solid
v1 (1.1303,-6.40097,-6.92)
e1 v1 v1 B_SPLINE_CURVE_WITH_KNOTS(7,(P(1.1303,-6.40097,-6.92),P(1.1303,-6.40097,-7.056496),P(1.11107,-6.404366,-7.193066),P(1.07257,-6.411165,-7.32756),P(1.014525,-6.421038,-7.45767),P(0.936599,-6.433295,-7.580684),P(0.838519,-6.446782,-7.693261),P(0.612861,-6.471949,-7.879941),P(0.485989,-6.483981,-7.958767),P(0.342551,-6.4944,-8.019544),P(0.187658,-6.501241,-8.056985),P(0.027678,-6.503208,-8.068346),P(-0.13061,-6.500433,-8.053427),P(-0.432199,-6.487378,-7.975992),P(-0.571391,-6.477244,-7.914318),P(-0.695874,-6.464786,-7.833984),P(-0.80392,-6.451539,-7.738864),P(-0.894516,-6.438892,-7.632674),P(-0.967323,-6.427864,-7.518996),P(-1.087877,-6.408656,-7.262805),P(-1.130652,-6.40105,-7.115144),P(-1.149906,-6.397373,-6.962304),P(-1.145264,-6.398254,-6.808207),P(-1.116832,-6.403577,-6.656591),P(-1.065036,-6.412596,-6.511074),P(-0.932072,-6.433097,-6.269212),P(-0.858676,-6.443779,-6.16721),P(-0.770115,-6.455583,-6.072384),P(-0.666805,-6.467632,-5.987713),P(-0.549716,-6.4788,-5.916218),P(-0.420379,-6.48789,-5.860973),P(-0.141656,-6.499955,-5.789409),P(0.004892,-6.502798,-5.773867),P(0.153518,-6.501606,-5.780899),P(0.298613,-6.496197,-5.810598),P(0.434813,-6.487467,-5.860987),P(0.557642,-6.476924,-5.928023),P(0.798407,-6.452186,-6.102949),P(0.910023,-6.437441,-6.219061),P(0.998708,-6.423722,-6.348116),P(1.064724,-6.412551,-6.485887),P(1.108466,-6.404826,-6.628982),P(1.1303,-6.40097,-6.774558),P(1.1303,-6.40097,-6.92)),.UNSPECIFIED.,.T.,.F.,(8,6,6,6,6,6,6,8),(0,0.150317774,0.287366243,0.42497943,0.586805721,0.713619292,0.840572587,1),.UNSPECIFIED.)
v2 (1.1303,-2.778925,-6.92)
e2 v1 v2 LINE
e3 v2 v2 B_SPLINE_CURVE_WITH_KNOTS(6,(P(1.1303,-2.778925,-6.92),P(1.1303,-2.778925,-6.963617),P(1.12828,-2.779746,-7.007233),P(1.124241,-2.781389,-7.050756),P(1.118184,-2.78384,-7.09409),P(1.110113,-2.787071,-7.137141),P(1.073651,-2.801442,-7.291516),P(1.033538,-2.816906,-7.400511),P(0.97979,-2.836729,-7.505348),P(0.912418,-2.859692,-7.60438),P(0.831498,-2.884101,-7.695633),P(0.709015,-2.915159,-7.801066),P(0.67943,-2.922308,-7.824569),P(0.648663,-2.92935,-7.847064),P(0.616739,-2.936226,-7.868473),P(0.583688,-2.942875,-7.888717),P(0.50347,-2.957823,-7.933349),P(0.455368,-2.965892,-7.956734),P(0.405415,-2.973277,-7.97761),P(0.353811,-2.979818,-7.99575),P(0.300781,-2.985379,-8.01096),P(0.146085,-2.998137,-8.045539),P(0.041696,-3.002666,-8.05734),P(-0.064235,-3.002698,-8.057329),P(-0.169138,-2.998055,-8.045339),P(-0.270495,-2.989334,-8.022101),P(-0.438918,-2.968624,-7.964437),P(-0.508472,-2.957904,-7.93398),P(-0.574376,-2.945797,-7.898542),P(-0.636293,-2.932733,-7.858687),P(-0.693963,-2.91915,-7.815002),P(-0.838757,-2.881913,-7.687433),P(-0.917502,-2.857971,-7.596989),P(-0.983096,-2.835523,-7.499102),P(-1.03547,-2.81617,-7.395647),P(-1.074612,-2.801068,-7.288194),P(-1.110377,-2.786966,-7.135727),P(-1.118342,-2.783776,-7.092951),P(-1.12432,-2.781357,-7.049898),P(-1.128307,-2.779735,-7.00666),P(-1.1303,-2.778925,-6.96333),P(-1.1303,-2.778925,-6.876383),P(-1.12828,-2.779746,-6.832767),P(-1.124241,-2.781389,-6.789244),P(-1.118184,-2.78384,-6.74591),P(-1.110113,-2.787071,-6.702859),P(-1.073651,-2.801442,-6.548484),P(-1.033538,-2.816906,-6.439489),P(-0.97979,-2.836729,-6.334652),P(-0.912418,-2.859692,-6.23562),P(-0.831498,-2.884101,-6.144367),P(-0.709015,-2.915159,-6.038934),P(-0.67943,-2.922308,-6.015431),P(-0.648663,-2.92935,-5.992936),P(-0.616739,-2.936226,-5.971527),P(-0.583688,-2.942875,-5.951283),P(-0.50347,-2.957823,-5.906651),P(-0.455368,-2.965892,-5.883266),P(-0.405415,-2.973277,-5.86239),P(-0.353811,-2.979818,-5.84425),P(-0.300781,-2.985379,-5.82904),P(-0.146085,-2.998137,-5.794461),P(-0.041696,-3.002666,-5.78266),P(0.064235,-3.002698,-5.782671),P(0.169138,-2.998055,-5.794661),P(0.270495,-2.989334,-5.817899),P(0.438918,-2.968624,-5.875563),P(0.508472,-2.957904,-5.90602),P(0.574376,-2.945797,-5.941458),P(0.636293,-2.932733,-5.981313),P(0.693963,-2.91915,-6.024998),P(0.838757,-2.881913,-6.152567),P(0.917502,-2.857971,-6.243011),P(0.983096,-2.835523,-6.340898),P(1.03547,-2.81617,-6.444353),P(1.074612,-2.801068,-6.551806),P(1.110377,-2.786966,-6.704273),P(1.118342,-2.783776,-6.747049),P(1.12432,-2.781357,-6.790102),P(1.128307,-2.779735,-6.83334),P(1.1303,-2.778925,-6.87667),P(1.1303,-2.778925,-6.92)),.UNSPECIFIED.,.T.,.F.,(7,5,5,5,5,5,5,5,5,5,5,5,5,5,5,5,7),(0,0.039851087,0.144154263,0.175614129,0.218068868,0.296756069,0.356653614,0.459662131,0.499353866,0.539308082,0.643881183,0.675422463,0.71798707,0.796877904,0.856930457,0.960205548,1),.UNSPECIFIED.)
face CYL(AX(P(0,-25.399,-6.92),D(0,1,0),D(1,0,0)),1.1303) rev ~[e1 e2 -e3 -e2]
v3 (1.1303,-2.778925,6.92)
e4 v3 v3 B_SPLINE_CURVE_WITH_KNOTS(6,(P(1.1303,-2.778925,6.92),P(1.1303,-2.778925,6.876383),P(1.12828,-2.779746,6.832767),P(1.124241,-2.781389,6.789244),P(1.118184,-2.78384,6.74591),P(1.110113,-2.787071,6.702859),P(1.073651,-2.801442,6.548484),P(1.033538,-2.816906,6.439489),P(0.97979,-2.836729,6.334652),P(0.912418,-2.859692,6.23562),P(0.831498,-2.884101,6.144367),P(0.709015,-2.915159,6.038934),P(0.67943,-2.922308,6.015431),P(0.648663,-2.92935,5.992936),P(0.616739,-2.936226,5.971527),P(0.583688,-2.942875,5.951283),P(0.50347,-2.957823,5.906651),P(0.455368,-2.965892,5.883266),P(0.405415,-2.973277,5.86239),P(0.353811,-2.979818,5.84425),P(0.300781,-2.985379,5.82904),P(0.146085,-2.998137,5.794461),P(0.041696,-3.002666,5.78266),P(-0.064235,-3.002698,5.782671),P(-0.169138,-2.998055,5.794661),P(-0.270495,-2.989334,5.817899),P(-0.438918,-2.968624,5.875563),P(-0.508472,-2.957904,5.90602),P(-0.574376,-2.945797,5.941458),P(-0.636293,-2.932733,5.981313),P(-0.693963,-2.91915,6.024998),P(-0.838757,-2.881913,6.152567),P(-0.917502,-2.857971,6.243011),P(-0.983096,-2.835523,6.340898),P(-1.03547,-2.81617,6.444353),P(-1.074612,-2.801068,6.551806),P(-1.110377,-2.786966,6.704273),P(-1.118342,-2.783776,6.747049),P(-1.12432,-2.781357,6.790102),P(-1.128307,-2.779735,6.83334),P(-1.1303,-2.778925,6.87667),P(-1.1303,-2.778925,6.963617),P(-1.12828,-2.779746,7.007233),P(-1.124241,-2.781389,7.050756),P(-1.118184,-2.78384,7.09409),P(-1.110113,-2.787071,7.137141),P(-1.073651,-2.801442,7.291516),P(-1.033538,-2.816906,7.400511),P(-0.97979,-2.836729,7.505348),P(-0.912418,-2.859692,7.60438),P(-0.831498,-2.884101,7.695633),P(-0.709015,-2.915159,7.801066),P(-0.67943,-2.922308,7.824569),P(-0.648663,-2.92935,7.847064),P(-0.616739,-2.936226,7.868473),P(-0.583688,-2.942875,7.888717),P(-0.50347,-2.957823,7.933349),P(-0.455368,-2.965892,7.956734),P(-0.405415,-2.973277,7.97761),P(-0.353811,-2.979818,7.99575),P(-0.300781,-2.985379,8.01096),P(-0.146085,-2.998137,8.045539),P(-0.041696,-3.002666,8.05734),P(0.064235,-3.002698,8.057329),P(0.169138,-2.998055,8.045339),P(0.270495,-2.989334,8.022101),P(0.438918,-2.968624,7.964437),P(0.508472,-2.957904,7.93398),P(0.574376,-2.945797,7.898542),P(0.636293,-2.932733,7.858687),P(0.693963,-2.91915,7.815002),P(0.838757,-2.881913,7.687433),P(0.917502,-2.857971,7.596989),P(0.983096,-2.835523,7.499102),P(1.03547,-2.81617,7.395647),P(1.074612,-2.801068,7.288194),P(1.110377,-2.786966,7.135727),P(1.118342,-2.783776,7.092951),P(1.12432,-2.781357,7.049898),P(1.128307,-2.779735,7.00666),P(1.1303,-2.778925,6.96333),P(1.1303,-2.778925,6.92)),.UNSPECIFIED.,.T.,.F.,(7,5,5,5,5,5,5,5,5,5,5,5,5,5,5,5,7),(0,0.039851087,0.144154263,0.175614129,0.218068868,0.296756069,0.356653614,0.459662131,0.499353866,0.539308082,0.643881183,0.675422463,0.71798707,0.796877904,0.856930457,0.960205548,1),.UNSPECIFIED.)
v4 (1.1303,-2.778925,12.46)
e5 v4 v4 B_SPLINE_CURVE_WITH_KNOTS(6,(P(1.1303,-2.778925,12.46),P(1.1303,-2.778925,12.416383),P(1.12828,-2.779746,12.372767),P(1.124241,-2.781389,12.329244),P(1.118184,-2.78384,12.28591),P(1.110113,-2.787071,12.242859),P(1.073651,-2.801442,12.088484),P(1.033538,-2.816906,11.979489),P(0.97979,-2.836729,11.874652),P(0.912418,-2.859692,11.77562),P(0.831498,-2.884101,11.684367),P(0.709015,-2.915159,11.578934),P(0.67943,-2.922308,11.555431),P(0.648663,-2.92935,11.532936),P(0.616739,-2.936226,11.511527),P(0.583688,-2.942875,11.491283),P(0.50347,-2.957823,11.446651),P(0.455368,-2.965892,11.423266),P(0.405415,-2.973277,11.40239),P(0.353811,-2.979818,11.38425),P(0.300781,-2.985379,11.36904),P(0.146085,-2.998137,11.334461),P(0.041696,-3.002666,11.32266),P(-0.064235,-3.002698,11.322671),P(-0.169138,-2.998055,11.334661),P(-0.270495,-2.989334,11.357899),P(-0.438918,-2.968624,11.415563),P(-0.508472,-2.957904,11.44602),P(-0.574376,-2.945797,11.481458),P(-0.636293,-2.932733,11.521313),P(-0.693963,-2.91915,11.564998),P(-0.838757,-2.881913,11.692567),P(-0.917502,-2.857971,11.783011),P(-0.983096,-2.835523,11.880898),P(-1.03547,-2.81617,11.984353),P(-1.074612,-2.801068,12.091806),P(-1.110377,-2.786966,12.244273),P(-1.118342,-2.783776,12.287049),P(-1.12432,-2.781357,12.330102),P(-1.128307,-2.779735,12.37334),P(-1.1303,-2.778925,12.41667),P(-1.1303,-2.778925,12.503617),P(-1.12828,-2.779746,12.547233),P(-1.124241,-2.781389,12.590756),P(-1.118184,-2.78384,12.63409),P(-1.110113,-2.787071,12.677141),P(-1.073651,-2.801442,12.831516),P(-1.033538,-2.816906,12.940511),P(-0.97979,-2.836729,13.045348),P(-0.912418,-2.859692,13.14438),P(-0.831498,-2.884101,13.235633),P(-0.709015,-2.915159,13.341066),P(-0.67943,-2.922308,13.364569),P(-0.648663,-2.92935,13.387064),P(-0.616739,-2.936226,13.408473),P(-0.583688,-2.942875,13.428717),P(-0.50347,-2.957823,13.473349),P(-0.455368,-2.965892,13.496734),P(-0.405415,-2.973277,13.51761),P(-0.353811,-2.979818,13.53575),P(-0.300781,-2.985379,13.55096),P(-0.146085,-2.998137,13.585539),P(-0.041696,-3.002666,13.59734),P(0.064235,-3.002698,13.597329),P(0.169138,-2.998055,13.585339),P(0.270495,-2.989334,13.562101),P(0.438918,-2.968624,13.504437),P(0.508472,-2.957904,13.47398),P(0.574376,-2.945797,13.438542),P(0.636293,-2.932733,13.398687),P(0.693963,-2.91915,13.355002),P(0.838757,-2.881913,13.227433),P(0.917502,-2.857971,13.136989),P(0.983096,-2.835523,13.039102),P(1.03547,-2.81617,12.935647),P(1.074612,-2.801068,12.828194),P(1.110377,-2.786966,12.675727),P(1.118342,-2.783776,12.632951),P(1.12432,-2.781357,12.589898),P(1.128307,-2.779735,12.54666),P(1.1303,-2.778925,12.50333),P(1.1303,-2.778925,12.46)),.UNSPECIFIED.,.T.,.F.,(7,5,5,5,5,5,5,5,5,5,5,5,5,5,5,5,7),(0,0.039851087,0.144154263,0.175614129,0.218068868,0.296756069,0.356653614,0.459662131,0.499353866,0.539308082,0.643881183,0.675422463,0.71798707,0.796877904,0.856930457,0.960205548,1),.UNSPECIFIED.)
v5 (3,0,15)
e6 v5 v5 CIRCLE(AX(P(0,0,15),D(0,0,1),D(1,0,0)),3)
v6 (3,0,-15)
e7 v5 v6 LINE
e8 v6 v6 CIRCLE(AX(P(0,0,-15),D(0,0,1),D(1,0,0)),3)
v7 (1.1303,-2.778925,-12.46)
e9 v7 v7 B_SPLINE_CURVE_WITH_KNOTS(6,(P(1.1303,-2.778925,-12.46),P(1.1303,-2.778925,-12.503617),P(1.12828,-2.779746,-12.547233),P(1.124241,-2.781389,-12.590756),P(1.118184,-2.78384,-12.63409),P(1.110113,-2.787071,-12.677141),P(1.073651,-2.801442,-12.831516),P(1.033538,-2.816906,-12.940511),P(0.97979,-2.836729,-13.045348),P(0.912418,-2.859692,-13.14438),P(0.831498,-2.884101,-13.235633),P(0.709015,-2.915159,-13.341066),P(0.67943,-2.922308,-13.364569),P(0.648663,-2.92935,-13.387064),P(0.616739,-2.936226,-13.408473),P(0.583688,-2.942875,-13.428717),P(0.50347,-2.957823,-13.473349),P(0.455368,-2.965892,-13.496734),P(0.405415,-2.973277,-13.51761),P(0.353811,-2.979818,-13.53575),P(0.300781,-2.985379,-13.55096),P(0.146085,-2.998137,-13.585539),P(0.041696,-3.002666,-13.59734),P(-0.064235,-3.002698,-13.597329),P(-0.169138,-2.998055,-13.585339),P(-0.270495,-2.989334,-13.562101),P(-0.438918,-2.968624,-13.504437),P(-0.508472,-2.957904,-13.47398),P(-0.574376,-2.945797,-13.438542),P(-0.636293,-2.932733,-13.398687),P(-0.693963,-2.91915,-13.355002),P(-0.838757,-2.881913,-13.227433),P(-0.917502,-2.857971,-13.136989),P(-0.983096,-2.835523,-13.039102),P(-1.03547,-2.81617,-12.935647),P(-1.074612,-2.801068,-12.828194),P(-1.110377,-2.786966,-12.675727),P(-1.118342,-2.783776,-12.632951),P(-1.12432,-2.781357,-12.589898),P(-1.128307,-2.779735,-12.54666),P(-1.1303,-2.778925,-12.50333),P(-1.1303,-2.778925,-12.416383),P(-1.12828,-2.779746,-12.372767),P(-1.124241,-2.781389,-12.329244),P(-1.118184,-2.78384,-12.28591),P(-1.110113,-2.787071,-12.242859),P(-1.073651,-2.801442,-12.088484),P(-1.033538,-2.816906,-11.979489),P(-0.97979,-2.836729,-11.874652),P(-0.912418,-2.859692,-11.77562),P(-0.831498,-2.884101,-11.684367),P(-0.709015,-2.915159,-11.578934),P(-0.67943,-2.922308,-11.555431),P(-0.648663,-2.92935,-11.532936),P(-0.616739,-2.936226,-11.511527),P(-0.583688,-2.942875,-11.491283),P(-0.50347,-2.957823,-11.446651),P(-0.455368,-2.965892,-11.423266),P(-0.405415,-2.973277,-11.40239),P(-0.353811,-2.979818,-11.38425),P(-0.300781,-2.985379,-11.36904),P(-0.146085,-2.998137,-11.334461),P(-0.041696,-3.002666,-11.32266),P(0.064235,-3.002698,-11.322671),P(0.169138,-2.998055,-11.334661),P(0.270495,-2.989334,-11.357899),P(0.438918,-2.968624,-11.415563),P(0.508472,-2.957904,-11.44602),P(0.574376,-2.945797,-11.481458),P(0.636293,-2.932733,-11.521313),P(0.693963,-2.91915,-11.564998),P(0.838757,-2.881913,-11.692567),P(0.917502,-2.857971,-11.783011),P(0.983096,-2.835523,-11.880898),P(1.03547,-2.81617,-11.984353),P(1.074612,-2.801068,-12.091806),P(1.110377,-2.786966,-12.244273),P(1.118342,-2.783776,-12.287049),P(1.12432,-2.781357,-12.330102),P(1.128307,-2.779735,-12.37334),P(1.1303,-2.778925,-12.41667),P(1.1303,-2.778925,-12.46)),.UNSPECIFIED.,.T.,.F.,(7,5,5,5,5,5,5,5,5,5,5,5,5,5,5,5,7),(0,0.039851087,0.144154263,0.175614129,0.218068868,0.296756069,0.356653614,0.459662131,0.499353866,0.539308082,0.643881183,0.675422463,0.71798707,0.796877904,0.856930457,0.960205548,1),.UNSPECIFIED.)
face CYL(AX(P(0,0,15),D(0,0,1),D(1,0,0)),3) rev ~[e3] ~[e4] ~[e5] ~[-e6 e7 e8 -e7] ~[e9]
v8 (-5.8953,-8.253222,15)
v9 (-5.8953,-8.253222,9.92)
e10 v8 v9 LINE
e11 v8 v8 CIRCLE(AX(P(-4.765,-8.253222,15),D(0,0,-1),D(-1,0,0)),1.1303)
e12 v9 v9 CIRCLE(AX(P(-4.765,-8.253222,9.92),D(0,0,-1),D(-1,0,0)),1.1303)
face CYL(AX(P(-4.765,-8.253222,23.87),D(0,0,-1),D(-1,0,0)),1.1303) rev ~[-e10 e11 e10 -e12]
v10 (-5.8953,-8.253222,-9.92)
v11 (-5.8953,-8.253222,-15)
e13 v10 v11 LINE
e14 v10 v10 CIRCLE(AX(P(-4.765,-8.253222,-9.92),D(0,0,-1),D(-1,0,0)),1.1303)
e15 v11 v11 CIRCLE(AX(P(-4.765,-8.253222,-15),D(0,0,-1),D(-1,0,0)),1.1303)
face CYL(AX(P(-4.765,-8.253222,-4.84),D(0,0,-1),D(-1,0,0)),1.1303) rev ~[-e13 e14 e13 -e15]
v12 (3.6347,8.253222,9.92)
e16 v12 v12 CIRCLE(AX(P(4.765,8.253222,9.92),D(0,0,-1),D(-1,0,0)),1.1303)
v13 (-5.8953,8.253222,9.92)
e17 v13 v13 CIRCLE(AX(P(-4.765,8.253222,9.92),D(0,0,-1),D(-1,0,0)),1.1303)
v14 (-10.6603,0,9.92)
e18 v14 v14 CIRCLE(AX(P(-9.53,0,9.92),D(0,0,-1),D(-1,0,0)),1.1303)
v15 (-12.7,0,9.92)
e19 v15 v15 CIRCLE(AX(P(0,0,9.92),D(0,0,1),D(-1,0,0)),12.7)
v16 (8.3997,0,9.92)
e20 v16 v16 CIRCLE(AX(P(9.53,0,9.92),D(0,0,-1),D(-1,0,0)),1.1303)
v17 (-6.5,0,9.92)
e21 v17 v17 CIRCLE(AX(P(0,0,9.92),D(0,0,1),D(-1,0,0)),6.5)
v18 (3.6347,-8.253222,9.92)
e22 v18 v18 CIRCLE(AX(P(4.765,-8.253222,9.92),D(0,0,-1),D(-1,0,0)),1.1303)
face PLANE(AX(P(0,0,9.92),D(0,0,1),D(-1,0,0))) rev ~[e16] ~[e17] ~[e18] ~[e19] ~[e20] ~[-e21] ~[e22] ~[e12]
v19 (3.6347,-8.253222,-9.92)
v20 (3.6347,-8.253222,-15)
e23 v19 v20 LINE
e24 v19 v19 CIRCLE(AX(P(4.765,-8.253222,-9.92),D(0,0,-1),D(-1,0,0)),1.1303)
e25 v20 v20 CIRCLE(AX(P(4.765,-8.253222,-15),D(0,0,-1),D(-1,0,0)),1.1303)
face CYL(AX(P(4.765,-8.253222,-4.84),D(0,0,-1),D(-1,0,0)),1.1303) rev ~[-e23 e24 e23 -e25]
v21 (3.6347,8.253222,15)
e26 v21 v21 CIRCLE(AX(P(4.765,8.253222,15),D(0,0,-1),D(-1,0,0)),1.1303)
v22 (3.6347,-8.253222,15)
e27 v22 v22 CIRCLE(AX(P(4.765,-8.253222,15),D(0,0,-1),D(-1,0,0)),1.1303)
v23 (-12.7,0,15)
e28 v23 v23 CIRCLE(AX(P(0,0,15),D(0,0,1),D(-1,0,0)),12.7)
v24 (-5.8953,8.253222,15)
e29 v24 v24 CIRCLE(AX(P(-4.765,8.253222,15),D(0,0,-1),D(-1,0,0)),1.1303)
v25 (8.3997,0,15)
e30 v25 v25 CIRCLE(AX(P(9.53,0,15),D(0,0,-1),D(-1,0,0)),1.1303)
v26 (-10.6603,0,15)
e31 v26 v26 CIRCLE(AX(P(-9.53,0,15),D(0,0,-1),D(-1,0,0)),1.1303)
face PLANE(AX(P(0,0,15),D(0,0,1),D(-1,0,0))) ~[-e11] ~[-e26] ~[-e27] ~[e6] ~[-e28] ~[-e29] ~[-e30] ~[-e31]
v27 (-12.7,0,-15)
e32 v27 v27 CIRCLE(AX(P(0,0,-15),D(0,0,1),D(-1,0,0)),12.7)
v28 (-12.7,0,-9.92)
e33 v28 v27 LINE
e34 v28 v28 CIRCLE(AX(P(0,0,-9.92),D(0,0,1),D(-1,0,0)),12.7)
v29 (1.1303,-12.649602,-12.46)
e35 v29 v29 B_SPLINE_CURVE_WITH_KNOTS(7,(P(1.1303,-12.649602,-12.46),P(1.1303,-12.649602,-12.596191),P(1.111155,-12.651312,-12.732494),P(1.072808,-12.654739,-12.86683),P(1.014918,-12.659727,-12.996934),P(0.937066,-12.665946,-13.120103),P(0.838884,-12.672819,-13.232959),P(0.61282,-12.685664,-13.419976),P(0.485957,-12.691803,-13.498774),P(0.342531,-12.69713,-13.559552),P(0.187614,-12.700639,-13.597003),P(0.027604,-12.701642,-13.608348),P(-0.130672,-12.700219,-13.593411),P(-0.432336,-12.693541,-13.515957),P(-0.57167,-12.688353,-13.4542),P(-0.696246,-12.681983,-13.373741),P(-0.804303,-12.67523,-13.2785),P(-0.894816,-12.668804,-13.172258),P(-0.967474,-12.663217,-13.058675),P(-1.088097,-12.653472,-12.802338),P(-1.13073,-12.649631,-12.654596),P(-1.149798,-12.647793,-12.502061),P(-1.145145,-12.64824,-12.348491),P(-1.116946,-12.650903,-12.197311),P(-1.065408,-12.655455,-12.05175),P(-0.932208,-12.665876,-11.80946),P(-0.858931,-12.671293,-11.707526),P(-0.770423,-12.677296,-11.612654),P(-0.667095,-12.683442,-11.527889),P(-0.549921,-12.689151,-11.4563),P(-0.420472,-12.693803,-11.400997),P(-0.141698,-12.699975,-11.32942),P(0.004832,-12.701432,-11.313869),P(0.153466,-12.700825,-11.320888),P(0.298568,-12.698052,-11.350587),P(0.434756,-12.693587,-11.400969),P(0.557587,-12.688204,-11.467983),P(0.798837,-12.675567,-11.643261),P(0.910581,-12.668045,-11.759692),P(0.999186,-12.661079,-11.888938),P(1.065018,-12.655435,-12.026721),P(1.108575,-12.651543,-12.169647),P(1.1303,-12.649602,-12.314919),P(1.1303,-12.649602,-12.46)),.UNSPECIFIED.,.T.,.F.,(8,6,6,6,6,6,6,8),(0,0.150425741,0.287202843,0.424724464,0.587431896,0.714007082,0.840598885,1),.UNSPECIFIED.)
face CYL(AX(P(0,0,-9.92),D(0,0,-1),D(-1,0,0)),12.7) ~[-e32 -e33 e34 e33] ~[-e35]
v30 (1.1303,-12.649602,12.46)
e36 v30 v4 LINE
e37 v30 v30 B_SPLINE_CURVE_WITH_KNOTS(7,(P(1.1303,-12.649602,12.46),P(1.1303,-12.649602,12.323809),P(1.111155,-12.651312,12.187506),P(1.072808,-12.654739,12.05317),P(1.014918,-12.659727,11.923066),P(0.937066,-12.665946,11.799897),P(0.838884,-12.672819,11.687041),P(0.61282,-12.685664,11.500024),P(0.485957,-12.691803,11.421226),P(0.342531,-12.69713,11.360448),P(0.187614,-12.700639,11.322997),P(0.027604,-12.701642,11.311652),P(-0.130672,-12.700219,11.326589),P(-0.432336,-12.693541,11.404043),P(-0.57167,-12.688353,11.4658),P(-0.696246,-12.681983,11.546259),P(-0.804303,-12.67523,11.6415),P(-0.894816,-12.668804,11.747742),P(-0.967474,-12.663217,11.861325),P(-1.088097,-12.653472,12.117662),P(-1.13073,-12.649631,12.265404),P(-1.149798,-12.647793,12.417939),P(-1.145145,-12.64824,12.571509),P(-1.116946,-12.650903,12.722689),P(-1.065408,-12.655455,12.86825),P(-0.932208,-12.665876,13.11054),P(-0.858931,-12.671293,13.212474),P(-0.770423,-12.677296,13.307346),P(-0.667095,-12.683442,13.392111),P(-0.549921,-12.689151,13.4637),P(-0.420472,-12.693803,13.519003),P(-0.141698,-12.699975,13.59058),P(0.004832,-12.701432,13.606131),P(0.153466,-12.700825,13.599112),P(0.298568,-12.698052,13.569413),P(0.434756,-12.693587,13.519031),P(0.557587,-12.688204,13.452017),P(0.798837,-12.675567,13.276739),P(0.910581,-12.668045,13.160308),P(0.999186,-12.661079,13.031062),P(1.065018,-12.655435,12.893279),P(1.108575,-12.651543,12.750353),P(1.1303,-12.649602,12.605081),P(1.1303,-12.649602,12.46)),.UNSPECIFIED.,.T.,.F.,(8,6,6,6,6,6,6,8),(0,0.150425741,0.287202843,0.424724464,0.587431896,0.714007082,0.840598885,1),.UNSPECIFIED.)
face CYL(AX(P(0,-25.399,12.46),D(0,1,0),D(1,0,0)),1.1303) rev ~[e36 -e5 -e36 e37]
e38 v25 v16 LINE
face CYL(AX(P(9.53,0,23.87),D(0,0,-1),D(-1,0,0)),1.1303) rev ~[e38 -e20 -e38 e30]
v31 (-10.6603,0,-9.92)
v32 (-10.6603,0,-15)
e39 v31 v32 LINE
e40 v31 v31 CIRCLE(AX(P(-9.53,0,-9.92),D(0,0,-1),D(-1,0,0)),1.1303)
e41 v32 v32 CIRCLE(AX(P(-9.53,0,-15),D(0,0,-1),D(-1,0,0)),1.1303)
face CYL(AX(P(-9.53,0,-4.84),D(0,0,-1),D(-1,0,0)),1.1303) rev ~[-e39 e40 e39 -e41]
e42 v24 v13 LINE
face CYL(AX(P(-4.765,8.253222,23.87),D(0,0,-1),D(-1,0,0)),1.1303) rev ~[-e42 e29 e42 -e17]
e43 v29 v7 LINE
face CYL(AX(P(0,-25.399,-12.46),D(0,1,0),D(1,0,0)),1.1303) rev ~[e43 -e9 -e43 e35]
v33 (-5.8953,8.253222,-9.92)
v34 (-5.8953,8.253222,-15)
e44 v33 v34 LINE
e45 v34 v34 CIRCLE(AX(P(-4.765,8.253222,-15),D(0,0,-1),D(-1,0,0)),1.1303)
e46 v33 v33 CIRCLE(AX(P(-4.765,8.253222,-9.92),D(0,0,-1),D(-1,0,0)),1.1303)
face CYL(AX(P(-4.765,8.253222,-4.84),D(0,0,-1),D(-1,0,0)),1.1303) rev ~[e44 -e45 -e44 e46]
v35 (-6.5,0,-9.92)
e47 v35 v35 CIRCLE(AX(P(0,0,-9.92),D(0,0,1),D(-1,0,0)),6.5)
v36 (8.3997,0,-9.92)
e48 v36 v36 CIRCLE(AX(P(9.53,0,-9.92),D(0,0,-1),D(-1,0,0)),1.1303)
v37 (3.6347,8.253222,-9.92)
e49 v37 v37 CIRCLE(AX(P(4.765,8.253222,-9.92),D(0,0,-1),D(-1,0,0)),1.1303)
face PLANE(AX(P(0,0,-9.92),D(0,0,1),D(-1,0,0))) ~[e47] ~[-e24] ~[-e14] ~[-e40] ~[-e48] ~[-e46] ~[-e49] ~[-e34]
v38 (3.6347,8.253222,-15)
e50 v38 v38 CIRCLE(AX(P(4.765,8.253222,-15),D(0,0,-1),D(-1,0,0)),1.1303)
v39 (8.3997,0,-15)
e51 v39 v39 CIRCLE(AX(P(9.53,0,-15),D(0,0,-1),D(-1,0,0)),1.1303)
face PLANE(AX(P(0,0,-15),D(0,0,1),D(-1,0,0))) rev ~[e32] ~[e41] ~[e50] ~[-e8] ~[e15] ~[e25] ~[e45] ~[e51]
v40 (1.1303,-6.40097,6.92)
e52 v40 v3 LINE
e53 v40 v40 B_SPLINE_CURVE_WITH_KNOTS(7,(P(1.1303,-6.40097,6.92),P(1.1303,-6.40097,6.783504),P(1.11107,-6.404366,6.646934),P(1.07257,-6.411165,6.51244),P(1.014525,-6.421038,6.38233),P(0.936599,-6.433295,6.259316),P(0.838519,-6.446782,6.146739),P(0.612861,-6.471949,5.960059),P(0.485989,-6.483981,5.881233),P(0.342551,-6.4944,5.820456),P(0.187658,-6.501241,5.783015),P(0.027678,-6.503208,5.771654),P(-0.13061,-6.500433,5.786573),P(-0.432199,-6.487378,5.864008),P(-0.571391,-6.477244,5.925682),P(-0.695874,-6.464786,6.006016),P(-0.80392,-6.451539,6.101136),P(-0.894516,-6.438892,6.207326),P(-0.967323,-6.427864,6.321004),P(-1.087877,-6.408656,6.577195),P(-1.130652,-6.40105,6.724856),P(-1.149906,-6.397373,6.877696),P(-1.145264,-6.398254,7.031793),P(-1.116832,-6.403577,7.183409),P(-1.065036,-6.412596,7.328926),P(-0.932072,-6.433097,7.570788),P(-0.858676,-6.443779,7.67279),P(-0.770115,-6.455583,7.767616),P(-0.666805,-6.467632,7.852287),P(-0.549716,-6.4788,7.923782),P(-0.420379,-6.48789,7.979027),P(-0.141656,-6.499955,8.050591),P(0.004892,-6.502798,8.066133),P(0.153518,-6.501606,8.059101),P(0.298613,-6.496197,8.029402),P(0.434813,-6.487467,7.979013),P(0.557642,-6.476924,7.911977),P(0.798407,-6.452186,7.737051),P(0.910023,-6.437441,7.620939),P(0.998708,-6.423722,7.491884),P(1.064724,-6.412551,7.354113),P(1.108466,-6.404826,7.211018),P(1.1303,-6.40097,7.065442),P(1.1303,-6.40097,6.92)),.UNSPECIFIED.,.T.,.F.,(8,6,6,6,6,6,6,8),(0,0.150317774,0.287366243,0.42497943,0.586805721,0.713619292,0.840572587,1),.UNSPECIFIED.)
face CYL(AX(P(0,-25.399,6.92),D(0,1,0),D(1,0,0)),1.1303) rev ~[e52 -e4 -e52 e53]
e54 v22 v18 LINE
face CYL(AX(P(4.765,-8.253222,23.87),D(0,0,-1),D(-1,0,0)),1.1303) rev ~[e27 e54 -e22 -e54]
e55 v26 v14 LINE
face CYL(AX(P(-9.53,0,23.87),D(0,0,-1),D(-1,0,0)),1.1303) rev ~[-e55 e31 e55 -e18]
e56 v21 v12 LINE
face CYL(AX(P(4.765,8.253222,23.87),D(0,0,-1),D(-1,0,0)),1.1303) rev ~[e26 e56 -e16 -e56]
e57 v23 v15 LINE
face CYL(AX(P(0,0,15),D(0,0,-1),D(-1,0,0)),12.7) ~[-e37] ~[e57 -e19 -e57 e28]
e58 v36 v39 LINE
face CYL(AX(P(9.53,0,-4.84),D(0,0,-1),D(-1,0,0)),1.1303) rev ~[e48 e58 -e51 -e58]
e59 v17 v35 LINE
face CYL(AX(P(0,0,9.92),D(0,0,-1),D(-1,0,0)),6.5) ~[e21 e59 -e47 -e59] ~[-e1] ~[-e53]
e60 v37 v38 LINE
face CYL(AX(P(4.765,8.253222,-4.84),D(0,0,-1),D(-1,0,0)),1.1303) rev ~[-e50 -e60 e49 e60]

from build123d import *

# Parameters (mm, degrees)
CROQUIS3_R                  = 3
CORTAR_EXTRUIR1_DEPTH       = 35.96541148
TALADRO_ROSCADO_4_403_D     = 2.2606
TALADRO_ROSCADO_4_403_DEPTH = 5.08
TALADRO_ROSCADO_4_405_D     = 2.2606
TALADRO_ROSCADO_4_405_DEPTH = 8.87
TALADRO_ROSCADO_4_405_TIP   = 0.679152758
TALADRO_ROSCADO_4_404_D     = 2.2606
TALADRO_ROSCADO_4_404_DEPTH = 12.699
TALADRO_ROSCADO_4_404_TIP   = 0.679152758


with BuildPart() as part:
    # Croquis2 → Revolución1 (revolve)
    with BuildSketch(Plane(origin=(0, 0, 0), x_dir=(0, 0, -1), z_dir=(1, 0, 0)), mode=Mode.PRIVATE) as revoluci_n1_sk:
        Polygon((-9.92, 6.5), (9.92, 6.5), (9.92, 12.7), (15, 12.7), (15, 0), (-15, 0), (-15, 12.7), (-9.92, 12.7), align=None)
    revolve(revoluci_n1_sk.sketch.rotate(Axis((0, 0, -15), (0, 0, 1)), 90), axis=Axis((0, 0, -15), (0, 0, 1)))

    # Croquis3 → Cortar-Extruir1 (cut, through all)
    with BuildSketch(Plane.XY.offset(15)):
        Circle(CROQUIS3_R)
    extrude(amount=-CORTAR_EXTRUIR1_DEPTH, mode=Mode.SUBTRACT)

    # Taladro roscado #4-403
    with Locations(Plane.XY.offset(-9.92)):
        with Locations((-9.53, 0), (-4.765, 8.253222098), (4.765, 8.253222098), (9.53, 0), (4.765, -8.253222098), (-4.765, -8.253222098), (0, 0)):
            Hole(TALADRO_ROSCADO_4_403_D / 2, depth=TALADRO_ROSCADO_4_403_DEPTH)

    # Taladro roscado #4-405
    with Locations(Plane.XY.offset(15)):
        with Locations((-9.53, 0), (-4.765, 8.253222098), (4.765, 8.253222098), (9.53, 0), (4.765, -8.253222098), (-4.765, -8.253222098)):
            Hole(TALADRO_ROSCADO_4_405_D / 2, depth=TALADRO_ROSCADO_4_405_DEPTH)
            with Locations((0, 0, -(TALADRO_ROSCADO_4_405_DEPTH + TALADRO_ROSCADO_4_405_TIP / 2))):  # 118° drill point
                Cone(0, TALADRO_ROSCADO_4_405_D / 2, TALADRO_ROSCADO_4_405_TIP, mode=Mode.SUBTRACT)

    # Taladro roscado #4-404
    with Locations(Plane(origin=(0, -12.7, 0), x_dir=(-1, 0, 0), z_dir=(0, -1, 0))):
        with Locations((0, 12.46), (0, 6.92), (0, -6.92), (0, -12.46)):
            Hole(TALADRO_ROSCADO_4_404_D / 2, depth=TALADRO_ROSCADO_4_404_DEPTH)
            with Locations((0, 0, -(TALADRO_ROSCADO_4_404_DEPTH + TALADRO_ROSCADO_4_404_TIP / 2))):  # 118° drill point
                Cone(0, TALADRO_ROSCADO_4_404_D / 2, TALADRO_ROSCADO_4_404_TIP, mode=Mode.SUBTRACT)


solid = part.part
